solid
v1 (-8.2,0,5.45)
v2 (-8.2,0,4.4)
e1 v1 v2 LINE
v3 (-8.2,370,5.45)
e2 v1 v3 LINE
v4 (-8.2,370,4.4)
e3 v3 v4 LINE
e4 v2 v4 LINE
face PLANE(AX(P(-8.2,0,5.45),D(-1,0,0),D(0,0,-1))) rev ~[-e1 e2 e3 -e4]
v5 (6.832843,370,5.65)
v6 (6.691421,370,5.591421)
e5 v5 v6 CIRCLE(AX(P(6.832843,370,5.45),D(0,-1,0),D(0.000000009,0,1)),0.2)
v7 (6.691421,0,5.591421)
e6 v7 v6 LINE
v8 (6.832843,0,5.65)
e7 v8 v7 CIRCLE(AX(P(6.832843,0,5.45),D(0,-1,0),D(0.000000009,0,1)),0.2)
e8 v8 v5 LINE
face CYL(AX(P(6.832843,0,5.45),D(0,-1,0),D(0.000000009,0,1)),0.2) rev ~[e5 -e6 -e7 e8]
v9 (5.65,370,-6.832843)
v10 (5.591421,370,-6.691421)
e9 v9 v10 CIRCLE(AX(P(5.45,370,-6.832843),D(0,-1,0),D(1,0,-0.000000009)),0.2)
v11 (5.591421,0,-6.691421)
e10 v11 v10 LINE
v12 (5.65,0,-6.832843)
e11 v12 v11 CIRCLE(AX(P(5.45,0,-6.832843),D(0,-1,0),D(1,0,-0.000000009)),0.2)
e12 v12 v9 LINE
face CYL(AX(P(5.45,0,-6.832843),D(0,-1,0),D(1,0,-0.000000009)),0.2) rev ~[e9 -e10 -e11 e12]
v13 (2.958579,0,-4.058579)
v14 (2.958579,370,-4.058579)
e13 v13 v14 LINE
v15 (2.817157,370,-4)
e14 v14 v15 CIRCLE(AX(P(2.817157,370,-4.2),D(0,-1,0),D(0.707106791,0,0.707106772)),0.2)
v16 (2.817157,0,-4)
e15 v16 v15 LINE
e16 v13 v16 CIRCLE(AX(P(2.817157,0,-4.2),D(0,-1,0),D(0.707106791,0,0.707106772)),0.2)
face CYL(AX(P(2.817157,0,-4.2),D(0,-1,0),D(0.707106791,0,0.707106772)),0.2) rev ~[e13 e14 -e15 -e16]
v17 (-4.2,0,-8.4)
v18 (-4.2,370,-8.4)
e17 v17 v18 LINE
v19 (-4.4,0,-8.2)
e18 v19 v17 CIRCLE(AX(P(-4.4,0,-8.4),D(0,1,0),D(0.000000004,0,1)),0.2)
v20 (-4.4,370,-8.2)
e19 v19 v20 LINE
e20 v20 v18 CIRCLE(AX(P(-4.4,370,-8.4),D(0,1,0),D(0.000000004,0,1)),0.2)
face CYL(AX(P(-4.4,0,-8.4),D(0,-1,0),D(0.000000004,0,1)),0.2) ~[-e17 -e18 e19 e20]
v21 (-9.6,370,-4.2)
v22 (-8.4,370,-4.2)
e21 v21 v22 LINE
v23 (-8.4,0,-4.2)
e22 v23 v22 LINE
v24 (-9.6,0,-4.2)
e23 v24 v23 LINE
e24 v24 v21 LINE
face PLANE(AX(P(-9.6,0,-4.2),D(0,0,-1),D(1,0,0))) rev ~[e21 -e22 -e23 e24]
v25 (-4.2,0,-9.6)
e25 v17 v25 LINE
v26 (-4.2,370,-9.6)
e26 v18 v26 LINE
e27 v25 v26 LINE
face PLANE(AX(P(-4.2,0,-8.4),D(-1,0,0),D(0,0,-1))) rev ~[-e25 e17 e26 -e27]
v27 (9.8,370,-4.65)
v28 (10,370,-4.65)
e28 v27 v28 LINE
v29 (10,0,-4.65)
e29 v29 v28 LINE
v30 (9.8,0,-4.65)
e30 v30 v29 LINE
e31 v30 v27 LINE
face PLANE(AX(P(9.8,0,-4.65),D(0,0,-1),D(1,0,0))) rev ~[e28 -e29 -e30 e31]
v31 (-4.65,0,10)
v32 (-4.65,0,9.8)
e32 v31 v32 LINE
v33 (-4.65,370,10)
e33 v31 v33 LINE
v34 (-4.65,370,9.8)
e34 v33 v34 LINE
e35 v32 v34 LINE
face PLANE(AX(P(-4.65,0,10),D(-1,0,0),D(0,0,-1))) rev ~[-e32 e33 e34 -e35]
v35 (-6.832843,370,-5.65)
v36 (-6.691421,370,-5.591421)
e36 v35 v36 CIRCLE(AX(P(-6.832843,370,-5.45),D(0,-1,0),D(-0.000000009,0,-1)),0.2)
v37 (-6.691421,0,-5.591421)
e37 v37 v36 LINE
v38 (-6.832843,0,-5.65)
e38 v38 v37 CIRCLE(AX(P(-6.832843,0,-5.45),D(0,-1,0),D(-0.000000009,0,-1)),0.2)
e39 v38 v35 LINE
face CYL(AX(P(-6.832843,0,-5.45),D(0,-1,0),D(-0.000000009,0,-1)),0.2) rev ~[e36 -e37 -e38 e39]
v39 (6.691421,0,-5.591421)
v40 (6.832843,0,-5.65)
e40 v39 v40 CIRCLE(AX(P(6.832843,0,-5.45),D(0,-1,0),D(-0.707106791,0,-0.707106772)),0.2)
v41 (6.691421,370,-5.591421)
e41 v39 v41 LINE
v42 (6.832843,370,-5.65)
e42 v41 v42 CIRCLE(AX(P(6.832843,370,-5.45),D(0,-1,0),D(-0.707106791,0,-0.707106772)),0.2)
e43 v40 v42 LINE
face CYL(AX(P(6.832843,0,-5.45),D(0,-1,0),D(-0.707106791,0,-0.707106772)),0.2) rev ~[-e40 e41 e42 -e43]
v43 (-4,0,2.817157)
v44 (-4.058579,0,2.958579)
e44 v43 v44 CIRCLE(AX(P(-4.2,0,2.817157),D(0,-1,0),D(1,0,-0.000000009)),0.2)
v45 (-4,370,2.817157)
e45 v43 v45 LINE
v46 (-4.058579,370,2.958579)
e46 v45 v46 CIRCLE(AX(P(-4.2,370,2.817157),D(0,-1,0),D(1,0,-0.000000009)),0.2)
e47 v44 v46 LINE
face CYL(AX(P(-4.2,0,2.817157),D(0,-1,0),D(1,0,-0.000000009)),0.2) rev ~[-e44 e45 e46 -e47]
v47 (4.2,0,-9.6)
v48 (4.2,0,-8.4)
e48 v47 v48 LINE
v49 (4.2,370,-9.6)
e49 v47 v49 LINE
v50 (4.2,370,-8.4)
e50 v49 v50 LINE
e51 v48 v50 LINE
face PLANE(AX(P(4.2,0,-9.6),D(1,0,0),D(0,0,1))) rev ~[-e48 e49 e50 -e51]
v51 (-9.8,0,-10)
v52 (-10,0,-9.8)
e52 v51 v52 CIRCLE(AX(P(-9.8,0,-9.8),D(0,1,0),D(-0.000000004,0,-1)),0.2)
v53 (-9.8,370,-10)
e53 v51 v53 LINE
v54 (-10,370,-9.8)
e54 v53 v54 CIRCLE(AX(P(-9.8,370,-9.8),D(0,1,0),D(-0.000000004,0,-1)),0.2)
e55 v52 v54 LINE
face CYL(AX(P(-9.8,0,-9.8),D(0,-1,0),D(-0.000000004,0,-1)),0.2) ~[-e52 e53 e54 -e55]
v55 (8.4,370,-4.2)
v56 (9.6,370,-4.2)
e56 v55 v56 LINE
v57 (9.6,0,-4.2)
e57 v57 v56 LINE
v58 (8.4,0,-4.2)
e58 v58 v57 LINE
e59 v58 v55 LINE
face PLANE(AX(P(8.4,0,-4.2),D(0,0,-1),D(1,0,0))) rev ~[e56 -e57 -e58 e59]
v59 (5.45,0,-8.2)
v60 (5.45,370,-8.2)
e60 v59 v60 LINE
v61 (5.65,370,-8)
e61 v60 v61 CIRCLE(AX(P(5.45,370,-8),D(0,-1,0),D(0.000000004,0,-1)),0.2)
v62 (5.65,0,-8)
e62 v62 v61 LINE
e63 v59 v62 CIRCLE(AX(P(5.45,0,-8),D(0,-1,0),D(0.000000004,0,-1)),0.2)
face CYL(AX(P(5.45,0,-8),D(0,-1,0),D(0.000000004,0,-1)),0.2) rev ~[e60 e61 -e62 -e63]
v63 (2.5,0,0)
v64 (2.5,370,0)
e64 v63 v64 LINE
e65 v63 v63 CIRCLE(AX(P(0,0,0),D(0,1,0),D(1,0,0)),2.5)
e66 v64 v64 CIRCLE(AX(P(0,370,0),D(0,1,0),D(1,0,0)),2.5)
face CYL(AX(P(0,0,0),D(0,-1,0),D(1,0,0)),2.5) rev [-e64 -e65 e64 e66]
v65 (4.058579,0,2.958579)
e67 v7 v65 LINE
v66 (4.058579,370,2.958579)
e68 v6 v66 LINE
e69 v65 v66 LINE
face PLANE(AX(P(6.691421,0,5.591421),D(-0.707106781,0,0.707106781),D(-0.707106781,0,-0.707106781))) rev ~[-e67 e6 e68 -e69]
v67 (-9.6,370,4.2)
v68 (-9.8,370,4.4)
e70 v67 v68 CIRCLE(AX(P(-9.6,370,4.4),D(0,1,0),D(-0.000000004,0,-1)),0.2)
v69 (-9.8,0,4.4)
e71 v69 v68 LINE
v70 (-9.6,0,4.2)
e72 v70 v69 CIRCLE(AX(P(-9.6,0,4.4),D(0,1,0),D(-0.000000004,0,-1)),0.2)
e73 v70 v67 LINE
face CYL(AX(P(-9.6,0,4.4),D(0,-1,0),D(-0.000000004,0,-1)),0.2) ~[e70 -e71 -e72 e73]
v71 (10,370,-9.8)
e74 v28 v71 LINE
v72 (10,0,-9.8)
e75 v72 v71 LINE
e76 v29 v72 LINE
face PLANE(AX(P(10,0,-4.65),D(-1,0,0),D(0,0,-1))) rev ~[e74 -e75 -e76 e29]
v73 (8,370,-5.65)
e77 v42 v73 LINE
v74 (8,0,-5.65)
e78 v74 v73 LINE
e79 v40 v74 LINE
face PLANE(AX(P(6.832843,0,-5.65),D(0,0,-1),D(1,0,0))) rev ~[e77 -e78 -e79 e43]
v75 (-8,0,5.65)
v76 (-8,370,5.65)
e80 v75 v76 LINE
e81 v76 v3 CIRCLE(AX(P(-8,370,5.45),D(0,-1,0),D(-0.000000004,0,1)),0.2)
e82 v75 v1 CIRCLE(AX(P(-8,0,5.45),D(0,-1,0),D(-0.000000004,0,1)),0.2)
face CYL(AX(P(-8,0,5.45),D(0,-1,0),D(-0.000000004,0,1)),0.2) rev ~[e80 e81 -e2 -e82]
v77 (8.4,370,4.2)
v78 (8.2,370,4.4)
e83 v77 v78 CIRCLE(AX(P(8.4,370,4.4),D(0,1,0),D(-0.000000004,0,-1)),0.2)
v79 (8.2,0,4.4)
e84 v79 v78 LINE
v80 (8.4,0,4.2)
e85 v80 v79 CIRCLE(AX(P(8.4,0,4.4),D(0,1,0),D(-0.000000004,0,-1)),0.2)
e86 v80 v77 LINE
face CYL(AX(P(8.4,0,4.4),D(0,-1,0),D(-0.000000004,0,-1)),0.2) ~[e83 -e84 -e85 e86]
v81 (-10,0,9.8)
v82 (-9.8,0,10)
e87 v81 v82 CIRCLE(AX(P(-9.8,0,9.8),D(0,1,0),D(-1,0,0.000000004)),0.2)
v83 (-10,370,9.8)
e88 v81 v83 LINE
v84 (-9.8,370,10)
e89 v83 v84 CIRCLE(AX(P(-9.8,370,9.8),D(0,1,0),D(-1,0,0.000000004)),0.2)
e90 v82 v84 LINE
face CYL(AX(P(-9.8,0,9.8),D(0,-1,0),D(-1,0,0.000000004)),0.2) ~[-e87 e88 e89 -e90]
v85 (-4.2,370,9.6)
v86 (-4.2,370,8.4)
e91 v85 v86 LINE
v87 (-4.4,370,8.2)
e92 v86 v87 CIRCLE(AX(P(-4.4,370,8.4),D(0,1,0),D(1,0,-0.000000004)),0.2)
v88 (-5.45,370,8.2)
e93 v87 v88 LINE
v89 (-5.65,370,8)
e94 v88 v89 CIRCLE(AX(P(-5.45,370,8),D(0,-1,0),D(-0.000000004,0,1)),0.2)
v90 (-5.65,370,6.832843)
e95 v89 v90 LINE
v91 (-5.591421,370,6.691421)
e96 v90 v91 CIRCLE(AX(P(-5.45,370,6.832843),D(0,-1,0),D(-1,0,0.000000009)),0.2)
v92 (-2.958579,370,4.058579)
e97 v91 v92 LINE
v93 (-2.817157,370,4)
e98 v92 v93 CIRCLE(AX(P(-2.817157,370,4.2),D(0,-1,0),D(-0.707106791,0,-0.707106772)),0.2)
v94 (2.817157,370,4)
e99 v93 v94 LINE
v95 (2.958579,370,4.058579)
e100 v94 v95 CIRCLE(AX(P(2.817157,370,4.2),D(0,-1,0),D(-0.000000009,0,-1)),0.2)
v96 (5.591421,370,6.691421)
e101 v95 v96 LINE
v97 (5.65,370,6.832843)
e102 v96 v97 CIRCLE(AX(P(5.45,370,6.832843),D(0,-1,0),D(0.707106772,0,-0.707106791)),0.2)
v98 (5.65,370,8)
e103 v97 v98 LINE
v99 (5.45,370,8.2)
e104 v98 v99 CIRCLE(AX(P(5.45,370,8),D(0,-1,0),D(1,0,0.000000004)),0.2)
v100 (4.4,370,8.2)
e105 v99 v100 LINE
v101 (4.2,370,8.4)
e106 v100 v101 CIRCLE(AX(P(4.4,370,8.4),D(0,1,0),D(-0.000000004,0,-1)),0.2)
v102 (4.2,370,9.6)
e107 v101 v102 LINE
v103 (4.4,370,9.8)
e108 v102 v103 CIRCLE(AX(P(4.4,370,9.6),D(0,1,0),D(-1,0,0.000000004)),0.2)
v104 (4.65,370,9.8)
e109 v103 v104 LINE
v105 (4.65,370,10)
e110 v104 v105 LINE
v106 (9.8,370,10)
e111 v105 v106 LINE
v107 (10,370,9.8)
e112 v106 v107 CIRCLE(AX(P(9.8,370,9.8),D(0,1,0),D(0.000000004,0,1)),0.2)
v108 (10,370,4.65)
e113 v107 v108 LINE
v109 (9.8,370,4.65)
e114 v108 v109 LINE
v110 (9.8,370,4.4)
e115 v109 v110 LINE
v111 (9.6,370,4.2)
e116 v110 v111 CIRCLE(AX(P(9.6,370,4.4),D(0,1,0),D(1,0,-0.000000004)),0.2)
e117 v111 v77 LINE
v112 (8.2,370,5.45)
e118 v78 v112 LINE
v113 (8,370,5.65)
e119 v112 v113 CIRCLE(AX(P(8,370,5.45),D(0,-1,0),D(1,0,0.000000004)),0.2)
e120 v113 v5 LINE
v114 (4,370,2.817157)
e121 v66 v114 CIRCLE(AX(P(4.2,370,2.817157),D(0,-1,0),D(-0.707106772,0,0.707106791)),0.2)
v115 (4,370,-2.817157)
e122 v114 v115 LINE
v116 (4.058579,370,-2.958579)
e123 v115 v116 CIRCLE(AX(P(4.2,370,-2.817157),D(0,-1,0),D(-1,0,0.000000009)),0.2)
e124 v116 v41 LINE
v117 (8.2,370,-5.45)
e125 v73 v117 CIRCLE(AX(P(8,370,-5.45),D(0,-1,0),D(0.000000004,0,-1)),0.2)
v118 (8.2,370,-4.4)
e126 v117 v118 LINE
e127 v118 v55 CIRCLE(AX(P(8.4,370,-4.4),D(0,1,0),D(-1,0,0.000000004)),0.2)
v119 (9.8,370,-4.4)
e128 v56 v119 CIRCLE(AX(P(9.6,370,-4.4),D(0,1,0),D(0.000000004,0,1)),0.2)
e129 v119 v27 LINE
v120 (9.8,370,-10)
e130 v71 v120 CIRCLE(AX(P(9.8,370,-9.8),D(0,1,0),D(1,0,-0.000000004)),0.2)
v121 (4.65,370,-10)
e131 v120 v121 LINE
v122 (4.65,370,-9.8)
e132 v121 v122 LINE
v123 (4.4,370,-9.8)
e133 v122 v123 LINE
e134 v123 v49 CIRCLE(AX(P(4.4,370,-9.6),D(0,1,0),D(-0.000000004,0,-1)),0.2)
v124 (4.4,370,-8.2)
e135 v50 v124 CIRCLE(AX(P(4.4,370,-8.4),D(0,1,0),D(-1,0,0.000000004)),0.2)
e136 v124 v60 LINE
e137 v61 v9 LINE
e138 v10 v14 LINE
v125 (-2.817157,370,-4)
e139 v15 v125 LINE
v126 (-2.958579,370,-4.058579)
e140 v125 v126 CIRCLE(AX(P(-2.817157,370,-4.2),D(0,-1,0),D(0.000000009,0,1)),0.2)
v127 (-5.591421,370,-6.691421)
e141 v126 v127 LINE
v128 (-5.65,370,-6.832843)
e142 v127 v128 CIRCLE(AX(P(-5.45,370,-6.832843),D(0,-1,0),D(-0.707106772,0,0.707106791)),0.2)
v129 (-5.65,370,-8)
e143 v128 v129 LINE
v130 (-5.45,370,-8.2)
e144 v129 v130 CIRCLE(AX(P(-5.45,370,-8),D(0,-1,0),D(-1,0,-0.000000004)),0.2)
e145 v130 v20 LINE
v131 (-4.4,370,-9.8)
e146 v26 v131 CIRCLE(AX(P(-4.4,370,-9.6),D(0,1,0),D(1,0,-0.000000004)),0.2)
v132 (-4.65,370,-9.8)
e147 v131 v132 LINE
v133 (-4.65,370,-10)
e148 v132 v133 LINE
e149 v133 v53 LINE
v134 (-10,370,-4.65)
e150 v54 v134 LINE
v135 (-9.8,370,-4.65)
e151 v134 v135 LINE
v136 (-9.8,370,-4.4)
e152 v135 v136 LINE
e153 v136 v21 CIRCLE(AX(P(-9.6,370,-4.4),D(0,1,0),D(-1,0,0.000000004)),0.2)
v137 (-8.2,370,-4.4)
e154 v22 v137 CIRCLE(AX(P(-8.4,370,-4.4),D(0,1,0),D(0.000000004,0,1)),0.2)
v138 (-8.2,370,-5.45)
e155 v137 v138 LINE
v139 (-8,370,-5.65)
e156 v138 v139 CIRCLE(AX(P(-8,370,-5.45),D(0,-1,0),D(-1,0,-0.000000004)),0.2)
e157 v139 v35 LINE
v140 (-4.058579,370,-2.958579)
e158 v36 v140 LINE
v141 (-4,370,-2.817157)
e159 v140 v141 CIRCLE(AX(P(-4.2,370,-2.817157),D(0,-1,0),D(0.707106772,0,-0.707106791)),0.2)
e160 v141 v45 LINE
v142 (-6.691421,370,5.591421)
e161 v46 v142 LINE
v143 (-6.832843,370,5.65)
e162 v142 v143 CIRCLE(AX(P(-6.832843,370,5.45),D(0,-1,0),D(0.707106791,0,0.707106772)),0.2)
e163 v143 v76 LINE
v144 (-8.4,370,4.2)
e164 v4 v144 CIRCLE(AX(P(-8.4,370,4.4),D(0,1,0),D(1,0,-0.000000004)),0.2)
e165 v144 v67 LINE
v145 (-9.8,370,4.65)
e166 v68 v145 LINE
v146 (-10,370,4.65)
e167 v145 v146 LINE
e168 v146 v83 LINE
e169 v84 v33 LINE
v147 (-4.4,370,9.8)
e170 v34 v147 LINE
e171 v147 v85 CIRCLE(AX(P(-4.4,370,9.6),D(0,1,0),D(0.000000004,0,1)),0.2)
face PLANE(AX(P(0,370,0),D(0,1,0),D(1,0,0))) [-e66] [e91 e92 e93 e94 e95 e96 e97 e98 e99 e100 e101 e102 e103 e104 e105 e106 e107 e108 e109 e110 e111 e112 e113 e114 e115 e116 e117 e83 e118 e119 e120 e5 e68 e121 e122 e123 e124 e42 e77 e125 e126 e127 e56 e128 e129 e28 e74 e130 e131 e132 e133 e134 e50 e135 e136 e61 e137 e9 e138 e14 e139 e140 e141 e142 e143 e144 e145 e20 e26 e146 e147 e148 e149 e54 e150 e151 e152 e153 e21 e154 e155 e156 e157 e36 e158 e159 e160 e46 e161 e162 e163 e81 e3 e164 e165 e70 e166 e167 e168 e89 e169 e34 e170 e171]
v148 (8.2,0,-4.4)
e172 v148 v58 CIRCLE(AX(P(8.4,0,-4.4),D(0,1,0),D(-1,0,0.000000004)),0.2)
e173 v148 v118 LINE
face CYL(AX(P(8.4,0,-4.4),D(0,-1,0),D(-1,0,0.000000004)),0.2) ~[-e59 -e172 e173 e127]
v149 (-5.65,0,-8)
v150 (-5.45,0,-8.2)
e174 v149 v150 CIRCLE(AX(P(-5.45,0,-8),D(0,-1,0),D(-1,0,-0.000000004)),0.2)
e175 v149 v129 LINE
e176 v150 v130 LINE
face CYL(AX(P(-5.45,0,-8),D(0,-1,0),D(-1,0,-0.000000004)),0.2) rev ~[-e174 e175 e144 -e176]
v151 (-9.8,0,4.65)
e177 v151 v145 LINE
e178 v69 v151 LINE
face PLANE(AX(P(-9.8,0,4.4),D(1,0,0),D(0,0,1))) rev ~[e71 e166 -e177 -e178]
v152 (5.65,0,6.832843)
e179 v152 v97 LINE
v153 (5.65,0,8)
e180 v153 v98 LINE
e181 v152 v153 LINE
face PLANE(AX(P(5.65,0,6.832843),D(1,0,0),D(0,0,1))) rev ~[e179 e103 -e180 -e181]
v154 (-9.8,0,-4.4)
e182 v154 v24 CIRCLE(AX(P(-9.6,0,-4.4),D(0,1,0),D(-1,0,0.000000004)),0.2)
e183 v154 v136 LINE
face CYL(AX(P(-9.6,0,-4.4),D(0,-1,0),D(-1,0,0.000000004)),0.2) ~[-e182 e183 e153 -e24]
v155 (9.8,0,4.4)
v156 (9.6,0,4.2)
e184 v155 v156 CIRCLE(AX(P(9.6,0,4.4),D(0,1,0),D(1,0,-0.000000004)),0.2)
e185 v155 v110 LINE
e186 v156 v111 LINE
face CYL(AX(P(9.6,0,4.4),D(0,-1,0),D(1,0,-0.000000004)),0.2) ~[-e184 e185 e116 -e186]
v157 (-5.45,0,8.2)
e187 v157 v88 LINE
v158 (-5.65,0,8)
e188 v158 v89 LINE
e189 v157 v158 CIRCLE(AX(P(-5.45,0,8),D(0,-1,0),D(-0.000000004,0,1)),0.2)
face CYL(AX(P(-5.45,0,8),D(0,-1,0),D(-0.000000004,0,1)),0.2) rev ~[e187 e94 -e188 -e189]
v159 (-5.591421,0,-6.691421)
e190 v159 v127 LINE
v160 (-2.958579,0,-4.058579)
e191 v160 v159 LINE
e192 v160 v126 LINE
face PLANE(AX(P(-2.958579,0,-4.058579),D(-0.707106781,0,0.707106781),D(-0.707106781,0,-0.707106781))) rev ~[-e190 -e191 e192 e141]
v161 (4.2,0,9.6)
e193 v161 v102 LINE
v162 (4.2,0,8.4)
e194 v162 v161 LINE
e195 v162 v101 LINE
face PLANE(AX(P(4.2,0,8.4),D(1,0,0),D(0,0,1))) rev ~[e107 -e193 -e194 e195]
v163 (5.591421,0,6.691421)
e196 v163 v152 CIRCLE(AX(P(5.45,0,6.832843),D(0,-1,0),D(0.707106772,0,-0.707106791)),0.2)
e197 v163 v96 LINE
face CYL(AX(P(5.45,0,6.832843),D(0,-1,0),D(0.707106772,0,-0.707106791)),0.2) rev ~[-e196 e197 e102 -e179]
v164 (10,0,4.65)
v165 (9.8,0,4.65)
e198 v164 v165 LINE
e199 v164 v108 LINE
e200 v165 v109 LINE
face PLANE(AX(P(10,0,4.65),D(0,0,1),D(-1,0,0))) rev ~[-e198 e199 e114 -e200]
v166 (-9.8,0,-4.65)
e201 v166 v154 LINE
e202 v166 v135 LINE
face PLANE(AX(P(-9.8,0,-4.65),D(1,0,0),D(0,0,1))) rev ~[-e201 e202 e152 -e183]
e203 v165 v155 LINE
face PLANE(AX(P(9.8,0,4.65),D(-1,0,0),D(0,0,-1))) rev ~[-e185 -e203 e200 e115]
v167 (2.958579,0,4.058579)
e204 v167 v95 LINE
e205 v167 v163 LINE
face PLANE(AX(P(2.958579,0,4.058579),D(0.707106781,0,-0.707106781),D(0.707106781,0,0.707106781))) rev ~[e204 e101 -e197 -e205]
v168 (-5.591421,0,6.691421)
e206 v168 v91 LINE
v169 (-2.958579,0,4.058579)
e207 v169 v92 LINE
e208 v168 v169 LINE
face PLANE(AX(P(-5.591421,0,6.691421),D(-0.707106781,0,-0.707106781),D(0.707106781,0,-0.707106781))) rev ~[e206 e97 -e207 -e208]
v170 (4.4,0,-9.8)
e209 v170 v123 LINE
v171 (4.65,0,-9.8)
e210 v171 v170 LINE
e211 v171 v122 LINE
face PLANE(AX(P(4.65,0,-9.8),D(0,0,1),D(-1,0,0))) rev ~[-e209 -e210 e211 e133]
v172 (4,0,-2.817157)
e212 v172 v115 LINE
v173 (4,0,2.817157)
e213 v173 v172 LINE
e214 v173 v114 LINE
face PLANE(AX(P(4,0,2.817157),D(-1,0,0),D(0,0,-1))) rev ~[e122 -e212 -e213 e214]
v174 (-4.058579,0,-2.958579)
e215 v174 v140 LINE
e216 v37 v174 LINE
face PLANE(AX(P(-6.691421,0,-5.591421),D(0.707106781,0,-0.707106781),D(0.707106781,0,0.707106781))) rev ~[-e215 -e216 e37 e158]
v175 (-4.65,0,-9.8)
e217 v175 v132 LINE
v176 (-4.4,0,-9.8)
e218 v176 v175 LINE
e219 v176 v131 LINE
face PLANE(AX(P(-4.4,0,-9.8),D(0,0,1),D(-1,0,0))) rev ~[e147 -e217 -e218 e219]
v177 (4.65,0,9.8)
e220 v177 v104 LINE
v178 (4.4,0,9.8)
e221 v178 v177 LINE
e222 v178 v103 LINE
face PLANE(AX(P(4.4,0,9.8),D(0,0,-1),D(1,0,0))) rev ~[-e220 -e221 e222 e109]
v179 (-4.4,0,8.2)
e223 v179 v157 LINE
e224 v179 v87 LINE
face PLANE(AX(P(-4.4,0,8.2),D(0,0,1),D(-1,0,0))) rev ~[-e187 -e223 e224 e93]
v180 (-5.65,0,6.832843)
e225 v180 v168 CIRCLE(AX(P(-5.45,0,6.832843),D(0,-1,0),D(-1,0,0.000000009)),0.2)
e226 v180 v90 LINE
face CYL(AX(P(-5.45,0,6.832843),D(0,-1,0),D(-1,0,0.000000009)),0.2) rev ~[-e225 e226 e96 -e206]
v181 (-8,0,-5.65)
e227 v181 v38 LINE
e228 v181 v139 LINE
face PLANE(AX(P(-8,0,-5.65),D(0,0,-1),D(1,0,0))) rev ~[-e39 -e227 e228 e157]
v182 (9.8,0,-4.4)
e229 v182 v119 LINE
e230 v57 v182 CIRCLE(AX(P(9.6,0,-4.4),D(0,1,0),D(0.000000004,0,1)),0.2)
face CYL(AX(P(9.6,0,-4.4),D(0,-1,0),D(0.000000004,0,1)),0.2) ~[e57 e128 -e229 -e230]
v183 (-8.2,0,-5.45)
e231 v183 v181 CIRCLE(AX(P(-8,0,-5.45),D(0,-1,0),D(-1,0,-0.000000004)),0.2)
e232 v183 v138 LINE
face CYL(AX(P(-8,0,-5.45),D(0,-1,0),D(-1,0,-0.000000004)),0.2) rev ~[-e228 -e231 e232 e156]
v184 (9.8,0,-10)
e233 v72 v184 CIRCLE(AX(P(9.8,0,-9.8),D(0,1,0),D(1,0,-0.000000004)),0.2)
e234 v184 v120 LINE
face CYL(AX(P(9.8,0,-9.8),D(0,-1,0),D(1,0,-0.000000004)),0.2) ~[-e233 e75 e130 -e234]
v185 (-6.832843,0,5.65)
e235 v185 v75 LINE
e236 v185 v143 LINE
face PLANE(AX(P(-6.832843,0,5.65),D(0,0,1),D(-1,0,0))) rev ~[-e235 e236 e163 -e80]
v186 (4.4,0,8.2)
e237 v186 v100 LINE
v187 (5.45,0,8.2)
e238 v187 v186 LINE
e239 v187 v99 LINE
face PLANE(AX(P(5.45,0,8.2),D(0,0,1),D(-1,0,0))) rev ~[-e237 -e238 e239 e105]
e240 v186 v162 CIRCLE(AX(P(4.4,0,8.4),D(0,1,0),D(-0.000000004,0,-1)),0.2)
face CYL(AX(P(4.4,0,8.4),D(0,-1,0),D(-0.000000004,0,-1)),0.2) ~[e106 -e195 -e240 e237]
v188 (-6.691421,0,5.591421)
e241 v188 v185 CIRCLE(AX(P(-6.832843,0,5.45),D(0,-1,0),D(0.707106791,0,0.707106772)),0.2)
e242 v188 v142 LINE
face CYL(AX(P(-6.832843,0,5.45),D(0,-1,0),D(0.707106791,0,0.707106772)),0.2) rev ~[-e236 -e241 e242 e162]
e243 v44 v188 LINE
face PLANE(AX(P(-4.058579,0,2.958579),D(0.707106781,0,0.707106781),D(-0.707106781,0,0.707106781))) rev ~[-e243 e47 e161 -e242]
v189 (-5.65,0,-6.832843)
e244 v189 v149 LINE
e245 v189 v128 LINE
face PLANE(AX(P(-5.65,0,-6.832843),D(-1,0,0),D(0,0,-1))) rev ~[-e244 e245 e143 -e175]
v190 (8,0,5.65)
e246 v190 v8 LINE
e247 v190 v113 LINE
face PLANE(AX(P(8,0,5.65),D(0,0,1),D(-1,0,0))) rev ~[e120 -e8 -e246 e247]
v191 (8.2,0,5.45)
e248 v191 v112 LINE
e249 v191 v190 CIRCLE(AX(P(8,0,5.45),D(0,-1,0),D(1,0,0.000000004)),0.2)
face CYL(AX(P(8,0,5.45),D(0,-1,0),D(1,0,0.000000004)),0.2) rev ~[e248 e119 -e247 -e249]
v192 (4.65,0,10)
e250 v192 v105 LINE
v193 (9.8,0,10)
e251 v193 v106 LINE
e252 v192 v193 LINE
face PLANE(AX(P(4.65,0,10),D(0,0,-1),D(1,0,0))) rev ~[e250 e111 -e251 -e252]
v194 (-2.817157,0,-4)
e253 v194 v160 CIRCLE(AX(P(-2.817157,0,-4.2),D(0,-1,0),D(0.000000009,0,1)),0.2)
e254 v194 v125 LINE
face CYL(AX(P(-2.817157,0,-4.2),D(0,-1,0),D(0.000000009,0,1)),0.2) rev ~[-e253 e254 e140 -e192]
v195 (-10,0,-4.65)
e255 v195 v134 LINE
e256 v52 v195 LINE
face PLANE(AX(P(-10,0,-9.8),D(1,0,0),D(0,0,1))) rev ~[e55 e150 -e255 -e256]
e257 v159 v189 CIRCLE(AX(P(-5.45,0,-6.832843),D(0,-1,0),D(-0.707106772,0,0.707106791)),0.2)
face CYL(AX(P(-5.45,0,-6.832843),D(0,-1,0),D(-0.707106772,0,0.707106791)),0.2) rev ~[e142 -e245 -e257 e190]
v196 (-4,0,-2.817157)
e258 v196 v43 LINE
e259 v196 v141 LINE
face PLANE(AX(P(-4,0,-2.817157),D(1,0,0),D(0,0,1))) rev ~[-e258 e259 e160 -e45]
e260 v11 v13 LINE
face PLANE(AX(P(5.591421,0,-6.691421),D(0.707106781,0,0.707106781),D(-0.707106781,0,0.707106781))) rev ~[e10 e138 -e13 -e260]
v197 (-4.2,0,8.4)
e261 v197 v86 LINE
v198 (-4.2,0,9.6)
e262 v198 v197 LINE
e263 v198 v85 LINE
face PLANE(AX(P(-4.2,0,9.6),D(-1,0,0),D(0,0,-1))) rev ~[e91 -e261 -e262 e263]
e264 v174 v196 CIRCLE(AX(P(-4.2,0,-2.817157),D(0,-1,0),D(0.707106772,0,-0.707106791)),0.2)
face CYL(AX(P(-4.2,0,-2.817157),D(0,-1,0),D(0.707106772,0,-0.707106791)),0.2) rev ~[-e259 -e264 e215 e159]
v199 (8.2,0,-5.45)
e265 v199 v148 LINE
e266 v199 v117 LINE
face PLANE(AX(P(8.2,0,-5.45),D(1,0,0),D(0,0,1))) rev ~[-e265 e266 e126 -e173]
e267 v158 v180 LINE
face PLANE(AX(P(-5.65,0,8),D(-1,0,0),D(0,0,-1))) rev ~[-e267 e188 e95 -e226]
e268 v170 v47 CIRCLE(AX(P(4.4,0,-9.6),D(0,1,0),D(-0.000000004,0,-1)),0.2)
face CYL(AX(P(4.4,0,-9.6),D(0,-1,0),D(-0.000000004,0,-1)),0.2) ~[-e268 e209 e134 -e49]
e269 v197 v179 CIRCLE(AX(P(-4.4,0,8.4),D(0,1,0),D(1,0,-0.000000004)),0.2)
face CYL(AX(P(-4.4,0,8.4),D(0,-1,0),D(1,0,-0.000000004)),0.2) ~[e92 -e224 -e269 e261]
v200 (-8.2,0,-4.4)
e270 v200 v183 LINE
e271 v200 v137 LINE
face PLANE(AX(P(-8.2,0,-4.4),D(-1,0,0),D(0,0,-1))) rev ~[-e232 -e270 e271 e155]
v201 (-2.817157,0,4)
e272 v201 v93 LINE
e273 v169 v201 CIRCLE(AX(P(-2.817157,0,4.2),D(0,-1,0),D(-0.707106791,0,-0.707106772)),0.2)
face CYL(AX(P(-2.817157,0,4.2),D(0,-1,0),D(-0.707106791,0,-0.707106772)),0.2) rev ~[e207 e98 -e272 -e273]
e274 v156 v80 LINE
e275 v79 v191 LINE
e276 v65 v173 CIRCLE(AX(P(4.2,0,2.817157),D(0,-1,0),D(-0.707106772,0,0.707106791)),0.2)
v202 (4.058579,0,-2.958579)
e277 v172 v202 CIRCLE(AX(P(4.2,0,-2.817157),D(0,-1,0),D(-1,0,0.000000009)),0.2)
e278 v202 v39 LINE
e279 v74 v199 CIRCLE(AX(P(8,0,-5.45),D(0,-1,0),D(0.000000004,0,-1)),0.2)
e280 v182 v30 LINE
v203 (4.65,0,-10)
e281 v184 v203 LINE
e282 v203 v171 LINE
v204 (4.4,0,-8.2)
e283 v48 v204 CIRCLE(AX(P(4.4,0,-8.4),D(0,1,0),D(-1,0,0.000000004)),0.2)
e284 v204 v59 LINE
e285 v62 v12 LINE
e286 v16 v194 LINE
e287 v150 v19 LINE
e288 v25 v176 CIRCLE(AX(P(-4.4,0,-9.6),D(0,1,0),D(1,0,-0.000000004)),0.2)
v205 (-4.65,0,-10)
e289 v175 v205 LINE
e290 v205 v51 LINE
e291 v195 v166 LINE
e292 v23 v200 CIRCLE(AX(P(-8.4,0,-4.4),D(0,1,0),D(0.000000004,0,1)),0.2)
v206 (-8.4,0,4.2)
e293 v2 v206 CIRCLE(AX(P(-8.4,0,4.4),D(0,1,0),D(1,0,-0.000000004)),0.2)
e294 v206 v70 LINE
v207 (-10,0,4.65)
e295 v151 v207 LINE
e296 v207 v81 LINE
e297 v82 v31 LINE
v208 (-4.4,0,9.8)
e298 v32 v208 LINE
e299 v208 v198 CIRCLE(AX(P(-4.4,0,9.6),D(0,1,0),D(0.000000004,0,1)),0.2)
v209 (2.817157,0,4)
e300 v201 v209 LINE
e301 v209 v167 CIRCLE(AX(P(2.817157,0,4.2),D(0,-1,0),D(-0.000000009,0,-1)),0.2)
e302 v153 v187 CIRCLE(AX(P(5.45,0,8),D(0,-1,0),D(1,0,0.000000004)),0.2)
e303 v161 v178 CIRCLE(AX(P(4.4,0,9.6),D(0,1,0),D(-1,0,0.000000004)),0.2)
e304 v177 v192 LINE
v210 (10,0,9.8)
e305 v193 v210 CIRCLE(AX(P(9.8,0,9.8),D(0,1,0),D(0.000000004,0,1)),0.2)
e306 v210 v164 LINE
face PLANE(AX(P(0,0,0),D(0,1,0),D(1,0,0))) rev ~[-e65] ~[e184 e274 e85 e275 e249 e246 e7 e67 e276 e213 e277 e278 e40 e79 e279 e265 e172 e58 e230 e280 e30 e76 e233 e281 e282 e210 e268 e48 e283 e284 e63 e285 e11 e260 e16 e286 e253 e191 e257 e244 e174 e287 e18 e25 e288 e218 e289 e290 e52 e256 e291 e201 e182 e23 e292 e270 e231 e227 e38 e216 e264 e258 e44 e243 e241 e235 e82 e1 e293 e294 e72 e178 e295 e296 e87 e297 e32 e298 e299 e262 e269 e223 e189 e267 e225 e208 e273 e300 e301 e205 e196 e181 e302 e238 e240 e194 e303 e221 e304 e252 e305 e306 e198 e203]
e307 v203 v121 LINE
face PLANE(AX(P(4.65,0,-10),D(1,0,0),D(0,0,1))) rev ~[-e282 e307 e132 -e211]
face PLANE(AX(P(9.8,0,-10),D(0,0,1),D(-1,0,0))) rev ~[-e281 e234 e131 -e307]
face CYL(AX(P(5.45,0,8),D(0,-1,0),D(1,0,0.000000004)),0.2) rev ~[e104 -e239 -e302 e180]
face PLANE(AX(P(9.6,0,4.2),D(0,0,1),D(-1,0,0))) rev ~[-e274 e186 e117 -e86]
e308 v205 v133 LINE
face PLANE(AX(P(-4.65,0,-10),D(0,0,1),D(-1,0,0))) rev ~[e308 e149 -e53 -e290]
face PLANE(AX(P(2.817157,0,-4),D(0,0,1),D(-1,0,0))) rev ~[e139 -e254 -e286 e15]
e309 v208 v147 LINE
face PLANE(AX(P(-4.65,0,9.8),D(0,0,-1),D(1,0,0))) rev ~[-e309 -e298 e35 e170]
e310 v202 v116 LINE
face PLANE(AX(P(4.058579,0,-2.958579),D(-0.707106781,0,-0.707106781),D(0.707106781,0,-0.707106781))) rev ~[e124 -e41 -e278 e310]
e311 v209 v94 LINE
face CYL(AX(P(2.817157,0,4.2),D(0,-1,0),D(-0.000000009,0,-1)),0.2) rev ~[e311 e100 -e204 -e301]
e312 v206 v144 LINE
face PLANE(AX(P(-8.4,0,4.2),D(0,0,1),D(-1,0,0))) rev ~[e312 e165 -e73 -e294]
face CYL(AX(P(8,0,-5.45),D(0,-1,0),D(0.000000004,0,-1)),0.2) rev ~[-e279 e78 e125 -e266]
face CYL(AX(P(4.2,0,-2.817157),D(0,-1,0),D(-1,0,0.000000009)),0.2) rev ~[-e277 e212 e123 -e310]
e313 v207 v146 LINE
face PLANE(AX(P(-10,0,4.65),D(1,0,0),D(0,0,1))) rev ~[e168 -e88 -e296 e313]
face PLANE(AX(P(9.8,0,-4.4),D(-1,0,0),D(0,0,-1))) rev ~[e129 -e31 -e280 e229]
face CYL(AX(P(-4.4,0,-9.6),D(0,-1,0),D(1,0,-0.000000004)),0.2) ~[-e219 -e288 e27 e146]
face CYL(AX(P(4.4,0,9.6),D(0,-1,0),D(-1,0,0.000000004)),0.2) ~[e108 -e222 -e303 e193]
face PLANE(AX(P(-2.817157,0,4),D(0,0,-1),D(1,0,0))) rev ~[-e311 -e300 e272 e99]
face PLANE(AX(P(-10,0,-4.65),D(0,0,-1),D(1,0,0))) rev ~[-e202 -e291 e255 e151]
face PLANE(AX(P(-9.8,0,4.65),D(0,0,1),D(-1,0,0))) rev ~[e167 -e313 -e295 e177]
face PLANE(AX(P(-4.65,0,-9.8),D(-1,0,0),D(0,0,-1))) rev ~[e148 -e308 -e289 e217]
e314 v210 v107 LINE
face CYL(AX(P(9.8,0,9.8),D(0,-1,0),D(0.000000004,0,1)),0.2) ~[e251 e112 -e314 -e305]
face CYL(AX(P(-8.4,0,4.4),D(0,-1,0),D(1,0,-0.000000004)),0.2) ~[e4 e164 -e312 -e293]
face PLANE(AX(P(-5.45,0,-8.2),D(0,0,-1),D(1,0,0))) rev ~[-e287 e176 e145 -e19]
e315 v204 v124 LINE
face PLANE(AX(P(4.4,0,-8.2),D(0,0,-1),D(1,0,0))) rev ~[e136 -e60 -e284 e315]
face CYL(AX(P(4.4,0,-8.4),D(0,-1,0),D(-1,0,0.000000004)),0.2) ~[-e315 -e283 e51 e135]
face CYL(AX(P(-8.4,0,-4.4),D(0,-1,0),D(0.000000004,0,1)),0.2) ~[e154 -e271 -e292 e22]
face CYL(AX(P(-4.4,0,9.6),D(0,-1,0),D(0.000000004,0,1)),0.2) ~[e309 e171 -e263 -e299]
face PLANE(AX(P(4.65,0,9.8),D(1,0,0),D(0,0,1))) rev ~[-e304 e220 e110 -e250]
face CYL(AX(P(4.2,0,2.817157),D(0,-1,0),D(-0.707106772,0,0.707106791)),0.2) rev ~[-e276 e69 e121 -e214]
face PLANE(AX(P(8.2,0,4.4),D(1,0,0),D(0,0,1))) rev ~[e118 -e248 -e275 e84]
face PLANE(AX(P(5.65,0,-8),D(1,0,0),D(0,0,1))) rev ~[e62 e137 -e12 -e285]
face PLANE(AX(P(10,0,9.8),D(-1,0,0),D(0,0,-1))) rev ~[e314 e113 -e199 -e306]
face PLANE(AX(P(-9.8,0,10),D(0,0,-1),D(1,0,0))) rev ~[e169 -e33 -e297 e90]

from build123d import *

# Parameters (mm, degrees)
SKETCH1_R           = 2.5
BOSS_EXTRUDE1_DEPTH = 370


with BuildPart() as part:
    # Sketch1 → Boss-Extrude1 (new body)
    with BuildSketch(Plane(origin=(0, 0, 0), x_dir=(1, 0, 0), z_dir=(0, 1, 0))):
        with BuildLine():
            Line((-10, 4.65), (-9.8, 4.65))
            Line((-9.8, 4.65), (-9.8, 4.4))
            ThreePointArc((-9.8, 4.4), (-9.741421356, 4.258578644), (-9.6, 4.2))
            Line((-9.6, 4.2), (-8.4, 4.2))
            ThreePointArc((-8.4, 4.2), (-8.258578644, 4.258578644), (-8.2, 4.4))
            Line((-8.2, 4.4), (-8.2, 5.45))
            ThreePointArc((-8.2, 5.45), (-8.141421356, 5.591421356), (-8, 5.65))
            Line((-8, 5.65), (-6.832842712, 5.65))
            ThreePointArc((-6.832842712, 5.65), (-6.756306026, 5.634775907), (-6.691421356, 5.591421356))
            Line((-6.691421356, 5.591421356), (-4.058578644, 2.958578644))
            ThreePointArc((-4.058578644, 2.958578644), (-4.015224093, 2.893693974), (-4, 2.817157288))
            Line((-4, 2.817157288), (-4, -2.817157288))
            ThreePointArc((-4, -2.817157288), (-4.015224093, -2.893693974), (-4.058578644, -2.958578644))
            Line((-4.058578644, -2.958578644), (-6.691421356, -5.591421356))
            ThreePointArc((-6.691421356, -5.591421356), (-6.756306026, -5.634775907), (-6.832842712, -5.65))
            Line((-6.832842712, -5.65), (-8, -5.65))
            ThreePointArc((-8, -5.65), (-8.141421356, -5.591421356), (-8.2, -5.45))
            Line((-8.2, -5.45), (-8.2, -4.4))
            ThreePointArc((-8.2, -4.4), (-8.258578644, -4.258578644), (-8.4, -4.2))
            Line((-8.4, -4.2), (-9.6, -4.2))
            ThreePointArc((-9.6, -4.2), (-9.741421356, -4.258578644), (-9.8, -4.4))
            Line((-9.8, -4.4), (-9.8, -4.65))
            Line((-9.8, -4.65), (-10, -4.65))
            Line((-10, -4.65), (-10, -9.8))
            ThreePointArc((-10, -9.8), (-9.941421356, -9.941421356), (-9.8, -10))
            Line((-9.8, -10), (-4.65, -10))
            Line((-4.65, -10), (-4.65, -9.8))
            Line((-4.65, -9.8), (-4.4, -9.8))
            ThreePointArc((-4.4, -9.8), (-4.258578644, -9.741421356), (-4.2, -9.6))
            Line((-4.2, -9.6), (-4.2, -8.4))
            ThreePointArc((-4.2, -8.4), (-4.258578644, -8.258578644), (-4.4, -8.2))
            Line((-4.4, -8.2), (-5.45, -8.2))
            ThreePointArc((-5.45, -8.2), (-5.591421356, -8.141421356), (-5.65, -8))
            Line((-5.65, -8), (-5.65, -6.832842712))
            ThreePointArc((-5.65, -6.832842712), (-5.634775907, -6.756306026), (-5.591421356, -6.691421356))
            Line((-5.591421356, -6.691421356), (-2.958578644, -4.058578644))
            ThreePointArc((-2.958578644, -4.058578644), (-2.893693974, -4.015224093), (-2.817157288, -4))
            Line((-2.817157288, -4), (2.817157288, -4))
            ThreePointArc((2.817157288, -4), (2.893693974, -4.015224093), (2.958578644, -4.058578644))
            Line((2.958578644, -4.058578644), (5.591421356, -6.691421356))
            ThreePointArc((5.591421356, -6.691421356), (5.634775907, -6.756306026), (5.65, -6.832842712))
            Line((5.65, -6.832842712), (5.65, -8))
            ThreePointArc((5.65, -8), (5.591421356, -8.141421356), (5.45, -8.2))
            Line((5.45, -8.2), (4.4, -8.2))
            ThreePointArc((4.4, -8.2), (4.258578644, -8.258578644), (4.2, -8.4))
            Line((4.2, -8.4), (4.2, -9.6))
            ThreePointArc((4.2, -9.6), (4.258578644, -9.741421356), (4.4, -9.8))
            Line((4.4, -9.8), (4.65, -9.8))
            Line((4.65, -9.8), (4.65, -10))
            Line((4.65, -10), (9.8, -10))
            ThreePointArc((9.8, -10), (9.941421356, -9.941421356), (10, -9.8))
            Line((10, -9.8), (10, -4.65))
            Line((10, -4.65), (9.8, -4.65))
            Line((9.8, -4.65), (9.8, -4.4))
            ThreePointArc((9.8, -4.4), (9.741421356, -4.258578644), (9.6, -4.2))
            Line((9.6, -4.2), (8.4, -4.2))
            ThreePointArc((8.4, -4.2), (8.258578644, -4.258578644), (8.2, -4.4))
            Line((8.2, -4.4), (8.2, -5.45))
            ThreePointArc((8.2, -5.45), (8.141421356, -5.591421356), (8, -5.65))
            Line((8, -5.65), (6.832842712, -5.65))
            ThreePointArc((6.832842712, -5.65), (6.756306026, -5.634775907), (6.691421356, -5.591421356))
            Line((6.691421356, -5.591421356), (4.058578644, -2.958578644))
            ThreePointArc((4.058578644, -2.958578644), (4.015224093, -2.893693974), (4, -2.817157288))
            Line((4, -2.817157288), (4, 2.817157288))
            ThreePointArc((4, 2.817157288), (4.015224093, 2.893693974), (4.058578644, 2.958578644))
            Line((4.058578644, 2.958578644), (6.691421356, 5.591421356))
            ThreePointArc((6.691421356, 5.591421356), (6.756306026, 5.634775907), (6.832842712, 5.65))
            Line((6.832842712, 5.65), (8, 5.65))
            ThreePointArc((8, 5.65), (8.141421356, 5.591421356), (8.2, 5.45))
            Line((8.2, 5.45), (8.2, 4.4))
            ThreePointArc((8.2, 4.4), (8.258578644, 4.258578644), (8.4, 4.2))
            Line((8.4, 4.2), (9.6, 4.2))
            ThreePointArc((9.6, 4.2), (9.741421356, 4.258578644), (9.8, 4.4))
            Line((9.8, 4.4), (9.8, 4.65))
            Line((9.8, 4.65), (10, 4.65))
            Line((10, 4.65), (10, 9.8))
            ThreePointArc((10, 9.8), (9.941421356, 9.941421356), (9.8, 10))
            Line((9.8, 10), (4.65, 10))
            Line((4.65, 10), (4.65, 9.8))
            Line((4.65, 9.8), (4.4, 9.8))
            ThreePointArc((4.4, 9.8), (4.258578644, 9.741421356), (4.2, 9.6))
            Line((4.2, 9.6), (4.2, 8.4))
            ThreePointArc((4.2, 8.4), (4.258578644, 8.258578644), (4.4, 8.2))
            Line((4.4, 8.2), (5.45, 8.2))
            ThreePointArc((5.45, 8.2), (5.591421356, 8.141421356), (5.65, 8))
            Line((5.65, 8), (5.65, 6.832842712))
            ThreePointArc((5.65, 6.832842712), (5.634775907, 6.756306026), (5.591421356, 6.691421356))
            Line((5.591421356, 6.691421356), (2.958578644, 4.058578644))
            ThreePointArc((2.958578644, 4.058578644), (2.893693974, 4.015224093), (2.817157288, 4))
            Line((2.817157288, 4), (-2.817157288, 4))
            ThreePointArc((-2.817157288, 4), (-2.893693974, 4.015224093), (-2.958578644, 4.058578644))
            Line((-2.958578644, 4.058578644), (-5.591421356, 6.691421356))
            ThreePointArc((-5.591421356, 6.691421356), (-5.634775907, 6.756306026), (-5.65, 6.832842712))
            Line((-5.65, 6.832842712), (-5.65, 8))
            ThreePointArc((-5.65, 8), (-5.591421356, 8.141421356), (-5.45, 8.2))
            Line((-5.45, 8.2), (-4.4, 8.2))
            ThreePointArc((-4.4, 8.2), (-4.258578644, 8.258578644), (-4.2, 8.4))
            Line((-4.2, 8.4), (-4.2, 9.6))
            ThreePointArc((-4.2, 9.6), (-4.258578644, 9.741421356), (-4.4, 9.8))
            Line((-4.4, 9.8), (-4.65, 9.8))
            Line((-4.65, 9.8), (-4.65, 10))
            Line((-4.65, 10), (-9.8, 10))
            ThreePointArc((-9.8, 10), (-9.941421356, 9.941421356), (-10, 9.8))
            Line((-10, 9.8), (-10, 4.65))
        make_face()
        Circle(SKETCH1_R, mode=Mode.SUBTRACT)
    extrude(amount=BOSS_EXTRUDE1_DEPTH)


solid = part.part
